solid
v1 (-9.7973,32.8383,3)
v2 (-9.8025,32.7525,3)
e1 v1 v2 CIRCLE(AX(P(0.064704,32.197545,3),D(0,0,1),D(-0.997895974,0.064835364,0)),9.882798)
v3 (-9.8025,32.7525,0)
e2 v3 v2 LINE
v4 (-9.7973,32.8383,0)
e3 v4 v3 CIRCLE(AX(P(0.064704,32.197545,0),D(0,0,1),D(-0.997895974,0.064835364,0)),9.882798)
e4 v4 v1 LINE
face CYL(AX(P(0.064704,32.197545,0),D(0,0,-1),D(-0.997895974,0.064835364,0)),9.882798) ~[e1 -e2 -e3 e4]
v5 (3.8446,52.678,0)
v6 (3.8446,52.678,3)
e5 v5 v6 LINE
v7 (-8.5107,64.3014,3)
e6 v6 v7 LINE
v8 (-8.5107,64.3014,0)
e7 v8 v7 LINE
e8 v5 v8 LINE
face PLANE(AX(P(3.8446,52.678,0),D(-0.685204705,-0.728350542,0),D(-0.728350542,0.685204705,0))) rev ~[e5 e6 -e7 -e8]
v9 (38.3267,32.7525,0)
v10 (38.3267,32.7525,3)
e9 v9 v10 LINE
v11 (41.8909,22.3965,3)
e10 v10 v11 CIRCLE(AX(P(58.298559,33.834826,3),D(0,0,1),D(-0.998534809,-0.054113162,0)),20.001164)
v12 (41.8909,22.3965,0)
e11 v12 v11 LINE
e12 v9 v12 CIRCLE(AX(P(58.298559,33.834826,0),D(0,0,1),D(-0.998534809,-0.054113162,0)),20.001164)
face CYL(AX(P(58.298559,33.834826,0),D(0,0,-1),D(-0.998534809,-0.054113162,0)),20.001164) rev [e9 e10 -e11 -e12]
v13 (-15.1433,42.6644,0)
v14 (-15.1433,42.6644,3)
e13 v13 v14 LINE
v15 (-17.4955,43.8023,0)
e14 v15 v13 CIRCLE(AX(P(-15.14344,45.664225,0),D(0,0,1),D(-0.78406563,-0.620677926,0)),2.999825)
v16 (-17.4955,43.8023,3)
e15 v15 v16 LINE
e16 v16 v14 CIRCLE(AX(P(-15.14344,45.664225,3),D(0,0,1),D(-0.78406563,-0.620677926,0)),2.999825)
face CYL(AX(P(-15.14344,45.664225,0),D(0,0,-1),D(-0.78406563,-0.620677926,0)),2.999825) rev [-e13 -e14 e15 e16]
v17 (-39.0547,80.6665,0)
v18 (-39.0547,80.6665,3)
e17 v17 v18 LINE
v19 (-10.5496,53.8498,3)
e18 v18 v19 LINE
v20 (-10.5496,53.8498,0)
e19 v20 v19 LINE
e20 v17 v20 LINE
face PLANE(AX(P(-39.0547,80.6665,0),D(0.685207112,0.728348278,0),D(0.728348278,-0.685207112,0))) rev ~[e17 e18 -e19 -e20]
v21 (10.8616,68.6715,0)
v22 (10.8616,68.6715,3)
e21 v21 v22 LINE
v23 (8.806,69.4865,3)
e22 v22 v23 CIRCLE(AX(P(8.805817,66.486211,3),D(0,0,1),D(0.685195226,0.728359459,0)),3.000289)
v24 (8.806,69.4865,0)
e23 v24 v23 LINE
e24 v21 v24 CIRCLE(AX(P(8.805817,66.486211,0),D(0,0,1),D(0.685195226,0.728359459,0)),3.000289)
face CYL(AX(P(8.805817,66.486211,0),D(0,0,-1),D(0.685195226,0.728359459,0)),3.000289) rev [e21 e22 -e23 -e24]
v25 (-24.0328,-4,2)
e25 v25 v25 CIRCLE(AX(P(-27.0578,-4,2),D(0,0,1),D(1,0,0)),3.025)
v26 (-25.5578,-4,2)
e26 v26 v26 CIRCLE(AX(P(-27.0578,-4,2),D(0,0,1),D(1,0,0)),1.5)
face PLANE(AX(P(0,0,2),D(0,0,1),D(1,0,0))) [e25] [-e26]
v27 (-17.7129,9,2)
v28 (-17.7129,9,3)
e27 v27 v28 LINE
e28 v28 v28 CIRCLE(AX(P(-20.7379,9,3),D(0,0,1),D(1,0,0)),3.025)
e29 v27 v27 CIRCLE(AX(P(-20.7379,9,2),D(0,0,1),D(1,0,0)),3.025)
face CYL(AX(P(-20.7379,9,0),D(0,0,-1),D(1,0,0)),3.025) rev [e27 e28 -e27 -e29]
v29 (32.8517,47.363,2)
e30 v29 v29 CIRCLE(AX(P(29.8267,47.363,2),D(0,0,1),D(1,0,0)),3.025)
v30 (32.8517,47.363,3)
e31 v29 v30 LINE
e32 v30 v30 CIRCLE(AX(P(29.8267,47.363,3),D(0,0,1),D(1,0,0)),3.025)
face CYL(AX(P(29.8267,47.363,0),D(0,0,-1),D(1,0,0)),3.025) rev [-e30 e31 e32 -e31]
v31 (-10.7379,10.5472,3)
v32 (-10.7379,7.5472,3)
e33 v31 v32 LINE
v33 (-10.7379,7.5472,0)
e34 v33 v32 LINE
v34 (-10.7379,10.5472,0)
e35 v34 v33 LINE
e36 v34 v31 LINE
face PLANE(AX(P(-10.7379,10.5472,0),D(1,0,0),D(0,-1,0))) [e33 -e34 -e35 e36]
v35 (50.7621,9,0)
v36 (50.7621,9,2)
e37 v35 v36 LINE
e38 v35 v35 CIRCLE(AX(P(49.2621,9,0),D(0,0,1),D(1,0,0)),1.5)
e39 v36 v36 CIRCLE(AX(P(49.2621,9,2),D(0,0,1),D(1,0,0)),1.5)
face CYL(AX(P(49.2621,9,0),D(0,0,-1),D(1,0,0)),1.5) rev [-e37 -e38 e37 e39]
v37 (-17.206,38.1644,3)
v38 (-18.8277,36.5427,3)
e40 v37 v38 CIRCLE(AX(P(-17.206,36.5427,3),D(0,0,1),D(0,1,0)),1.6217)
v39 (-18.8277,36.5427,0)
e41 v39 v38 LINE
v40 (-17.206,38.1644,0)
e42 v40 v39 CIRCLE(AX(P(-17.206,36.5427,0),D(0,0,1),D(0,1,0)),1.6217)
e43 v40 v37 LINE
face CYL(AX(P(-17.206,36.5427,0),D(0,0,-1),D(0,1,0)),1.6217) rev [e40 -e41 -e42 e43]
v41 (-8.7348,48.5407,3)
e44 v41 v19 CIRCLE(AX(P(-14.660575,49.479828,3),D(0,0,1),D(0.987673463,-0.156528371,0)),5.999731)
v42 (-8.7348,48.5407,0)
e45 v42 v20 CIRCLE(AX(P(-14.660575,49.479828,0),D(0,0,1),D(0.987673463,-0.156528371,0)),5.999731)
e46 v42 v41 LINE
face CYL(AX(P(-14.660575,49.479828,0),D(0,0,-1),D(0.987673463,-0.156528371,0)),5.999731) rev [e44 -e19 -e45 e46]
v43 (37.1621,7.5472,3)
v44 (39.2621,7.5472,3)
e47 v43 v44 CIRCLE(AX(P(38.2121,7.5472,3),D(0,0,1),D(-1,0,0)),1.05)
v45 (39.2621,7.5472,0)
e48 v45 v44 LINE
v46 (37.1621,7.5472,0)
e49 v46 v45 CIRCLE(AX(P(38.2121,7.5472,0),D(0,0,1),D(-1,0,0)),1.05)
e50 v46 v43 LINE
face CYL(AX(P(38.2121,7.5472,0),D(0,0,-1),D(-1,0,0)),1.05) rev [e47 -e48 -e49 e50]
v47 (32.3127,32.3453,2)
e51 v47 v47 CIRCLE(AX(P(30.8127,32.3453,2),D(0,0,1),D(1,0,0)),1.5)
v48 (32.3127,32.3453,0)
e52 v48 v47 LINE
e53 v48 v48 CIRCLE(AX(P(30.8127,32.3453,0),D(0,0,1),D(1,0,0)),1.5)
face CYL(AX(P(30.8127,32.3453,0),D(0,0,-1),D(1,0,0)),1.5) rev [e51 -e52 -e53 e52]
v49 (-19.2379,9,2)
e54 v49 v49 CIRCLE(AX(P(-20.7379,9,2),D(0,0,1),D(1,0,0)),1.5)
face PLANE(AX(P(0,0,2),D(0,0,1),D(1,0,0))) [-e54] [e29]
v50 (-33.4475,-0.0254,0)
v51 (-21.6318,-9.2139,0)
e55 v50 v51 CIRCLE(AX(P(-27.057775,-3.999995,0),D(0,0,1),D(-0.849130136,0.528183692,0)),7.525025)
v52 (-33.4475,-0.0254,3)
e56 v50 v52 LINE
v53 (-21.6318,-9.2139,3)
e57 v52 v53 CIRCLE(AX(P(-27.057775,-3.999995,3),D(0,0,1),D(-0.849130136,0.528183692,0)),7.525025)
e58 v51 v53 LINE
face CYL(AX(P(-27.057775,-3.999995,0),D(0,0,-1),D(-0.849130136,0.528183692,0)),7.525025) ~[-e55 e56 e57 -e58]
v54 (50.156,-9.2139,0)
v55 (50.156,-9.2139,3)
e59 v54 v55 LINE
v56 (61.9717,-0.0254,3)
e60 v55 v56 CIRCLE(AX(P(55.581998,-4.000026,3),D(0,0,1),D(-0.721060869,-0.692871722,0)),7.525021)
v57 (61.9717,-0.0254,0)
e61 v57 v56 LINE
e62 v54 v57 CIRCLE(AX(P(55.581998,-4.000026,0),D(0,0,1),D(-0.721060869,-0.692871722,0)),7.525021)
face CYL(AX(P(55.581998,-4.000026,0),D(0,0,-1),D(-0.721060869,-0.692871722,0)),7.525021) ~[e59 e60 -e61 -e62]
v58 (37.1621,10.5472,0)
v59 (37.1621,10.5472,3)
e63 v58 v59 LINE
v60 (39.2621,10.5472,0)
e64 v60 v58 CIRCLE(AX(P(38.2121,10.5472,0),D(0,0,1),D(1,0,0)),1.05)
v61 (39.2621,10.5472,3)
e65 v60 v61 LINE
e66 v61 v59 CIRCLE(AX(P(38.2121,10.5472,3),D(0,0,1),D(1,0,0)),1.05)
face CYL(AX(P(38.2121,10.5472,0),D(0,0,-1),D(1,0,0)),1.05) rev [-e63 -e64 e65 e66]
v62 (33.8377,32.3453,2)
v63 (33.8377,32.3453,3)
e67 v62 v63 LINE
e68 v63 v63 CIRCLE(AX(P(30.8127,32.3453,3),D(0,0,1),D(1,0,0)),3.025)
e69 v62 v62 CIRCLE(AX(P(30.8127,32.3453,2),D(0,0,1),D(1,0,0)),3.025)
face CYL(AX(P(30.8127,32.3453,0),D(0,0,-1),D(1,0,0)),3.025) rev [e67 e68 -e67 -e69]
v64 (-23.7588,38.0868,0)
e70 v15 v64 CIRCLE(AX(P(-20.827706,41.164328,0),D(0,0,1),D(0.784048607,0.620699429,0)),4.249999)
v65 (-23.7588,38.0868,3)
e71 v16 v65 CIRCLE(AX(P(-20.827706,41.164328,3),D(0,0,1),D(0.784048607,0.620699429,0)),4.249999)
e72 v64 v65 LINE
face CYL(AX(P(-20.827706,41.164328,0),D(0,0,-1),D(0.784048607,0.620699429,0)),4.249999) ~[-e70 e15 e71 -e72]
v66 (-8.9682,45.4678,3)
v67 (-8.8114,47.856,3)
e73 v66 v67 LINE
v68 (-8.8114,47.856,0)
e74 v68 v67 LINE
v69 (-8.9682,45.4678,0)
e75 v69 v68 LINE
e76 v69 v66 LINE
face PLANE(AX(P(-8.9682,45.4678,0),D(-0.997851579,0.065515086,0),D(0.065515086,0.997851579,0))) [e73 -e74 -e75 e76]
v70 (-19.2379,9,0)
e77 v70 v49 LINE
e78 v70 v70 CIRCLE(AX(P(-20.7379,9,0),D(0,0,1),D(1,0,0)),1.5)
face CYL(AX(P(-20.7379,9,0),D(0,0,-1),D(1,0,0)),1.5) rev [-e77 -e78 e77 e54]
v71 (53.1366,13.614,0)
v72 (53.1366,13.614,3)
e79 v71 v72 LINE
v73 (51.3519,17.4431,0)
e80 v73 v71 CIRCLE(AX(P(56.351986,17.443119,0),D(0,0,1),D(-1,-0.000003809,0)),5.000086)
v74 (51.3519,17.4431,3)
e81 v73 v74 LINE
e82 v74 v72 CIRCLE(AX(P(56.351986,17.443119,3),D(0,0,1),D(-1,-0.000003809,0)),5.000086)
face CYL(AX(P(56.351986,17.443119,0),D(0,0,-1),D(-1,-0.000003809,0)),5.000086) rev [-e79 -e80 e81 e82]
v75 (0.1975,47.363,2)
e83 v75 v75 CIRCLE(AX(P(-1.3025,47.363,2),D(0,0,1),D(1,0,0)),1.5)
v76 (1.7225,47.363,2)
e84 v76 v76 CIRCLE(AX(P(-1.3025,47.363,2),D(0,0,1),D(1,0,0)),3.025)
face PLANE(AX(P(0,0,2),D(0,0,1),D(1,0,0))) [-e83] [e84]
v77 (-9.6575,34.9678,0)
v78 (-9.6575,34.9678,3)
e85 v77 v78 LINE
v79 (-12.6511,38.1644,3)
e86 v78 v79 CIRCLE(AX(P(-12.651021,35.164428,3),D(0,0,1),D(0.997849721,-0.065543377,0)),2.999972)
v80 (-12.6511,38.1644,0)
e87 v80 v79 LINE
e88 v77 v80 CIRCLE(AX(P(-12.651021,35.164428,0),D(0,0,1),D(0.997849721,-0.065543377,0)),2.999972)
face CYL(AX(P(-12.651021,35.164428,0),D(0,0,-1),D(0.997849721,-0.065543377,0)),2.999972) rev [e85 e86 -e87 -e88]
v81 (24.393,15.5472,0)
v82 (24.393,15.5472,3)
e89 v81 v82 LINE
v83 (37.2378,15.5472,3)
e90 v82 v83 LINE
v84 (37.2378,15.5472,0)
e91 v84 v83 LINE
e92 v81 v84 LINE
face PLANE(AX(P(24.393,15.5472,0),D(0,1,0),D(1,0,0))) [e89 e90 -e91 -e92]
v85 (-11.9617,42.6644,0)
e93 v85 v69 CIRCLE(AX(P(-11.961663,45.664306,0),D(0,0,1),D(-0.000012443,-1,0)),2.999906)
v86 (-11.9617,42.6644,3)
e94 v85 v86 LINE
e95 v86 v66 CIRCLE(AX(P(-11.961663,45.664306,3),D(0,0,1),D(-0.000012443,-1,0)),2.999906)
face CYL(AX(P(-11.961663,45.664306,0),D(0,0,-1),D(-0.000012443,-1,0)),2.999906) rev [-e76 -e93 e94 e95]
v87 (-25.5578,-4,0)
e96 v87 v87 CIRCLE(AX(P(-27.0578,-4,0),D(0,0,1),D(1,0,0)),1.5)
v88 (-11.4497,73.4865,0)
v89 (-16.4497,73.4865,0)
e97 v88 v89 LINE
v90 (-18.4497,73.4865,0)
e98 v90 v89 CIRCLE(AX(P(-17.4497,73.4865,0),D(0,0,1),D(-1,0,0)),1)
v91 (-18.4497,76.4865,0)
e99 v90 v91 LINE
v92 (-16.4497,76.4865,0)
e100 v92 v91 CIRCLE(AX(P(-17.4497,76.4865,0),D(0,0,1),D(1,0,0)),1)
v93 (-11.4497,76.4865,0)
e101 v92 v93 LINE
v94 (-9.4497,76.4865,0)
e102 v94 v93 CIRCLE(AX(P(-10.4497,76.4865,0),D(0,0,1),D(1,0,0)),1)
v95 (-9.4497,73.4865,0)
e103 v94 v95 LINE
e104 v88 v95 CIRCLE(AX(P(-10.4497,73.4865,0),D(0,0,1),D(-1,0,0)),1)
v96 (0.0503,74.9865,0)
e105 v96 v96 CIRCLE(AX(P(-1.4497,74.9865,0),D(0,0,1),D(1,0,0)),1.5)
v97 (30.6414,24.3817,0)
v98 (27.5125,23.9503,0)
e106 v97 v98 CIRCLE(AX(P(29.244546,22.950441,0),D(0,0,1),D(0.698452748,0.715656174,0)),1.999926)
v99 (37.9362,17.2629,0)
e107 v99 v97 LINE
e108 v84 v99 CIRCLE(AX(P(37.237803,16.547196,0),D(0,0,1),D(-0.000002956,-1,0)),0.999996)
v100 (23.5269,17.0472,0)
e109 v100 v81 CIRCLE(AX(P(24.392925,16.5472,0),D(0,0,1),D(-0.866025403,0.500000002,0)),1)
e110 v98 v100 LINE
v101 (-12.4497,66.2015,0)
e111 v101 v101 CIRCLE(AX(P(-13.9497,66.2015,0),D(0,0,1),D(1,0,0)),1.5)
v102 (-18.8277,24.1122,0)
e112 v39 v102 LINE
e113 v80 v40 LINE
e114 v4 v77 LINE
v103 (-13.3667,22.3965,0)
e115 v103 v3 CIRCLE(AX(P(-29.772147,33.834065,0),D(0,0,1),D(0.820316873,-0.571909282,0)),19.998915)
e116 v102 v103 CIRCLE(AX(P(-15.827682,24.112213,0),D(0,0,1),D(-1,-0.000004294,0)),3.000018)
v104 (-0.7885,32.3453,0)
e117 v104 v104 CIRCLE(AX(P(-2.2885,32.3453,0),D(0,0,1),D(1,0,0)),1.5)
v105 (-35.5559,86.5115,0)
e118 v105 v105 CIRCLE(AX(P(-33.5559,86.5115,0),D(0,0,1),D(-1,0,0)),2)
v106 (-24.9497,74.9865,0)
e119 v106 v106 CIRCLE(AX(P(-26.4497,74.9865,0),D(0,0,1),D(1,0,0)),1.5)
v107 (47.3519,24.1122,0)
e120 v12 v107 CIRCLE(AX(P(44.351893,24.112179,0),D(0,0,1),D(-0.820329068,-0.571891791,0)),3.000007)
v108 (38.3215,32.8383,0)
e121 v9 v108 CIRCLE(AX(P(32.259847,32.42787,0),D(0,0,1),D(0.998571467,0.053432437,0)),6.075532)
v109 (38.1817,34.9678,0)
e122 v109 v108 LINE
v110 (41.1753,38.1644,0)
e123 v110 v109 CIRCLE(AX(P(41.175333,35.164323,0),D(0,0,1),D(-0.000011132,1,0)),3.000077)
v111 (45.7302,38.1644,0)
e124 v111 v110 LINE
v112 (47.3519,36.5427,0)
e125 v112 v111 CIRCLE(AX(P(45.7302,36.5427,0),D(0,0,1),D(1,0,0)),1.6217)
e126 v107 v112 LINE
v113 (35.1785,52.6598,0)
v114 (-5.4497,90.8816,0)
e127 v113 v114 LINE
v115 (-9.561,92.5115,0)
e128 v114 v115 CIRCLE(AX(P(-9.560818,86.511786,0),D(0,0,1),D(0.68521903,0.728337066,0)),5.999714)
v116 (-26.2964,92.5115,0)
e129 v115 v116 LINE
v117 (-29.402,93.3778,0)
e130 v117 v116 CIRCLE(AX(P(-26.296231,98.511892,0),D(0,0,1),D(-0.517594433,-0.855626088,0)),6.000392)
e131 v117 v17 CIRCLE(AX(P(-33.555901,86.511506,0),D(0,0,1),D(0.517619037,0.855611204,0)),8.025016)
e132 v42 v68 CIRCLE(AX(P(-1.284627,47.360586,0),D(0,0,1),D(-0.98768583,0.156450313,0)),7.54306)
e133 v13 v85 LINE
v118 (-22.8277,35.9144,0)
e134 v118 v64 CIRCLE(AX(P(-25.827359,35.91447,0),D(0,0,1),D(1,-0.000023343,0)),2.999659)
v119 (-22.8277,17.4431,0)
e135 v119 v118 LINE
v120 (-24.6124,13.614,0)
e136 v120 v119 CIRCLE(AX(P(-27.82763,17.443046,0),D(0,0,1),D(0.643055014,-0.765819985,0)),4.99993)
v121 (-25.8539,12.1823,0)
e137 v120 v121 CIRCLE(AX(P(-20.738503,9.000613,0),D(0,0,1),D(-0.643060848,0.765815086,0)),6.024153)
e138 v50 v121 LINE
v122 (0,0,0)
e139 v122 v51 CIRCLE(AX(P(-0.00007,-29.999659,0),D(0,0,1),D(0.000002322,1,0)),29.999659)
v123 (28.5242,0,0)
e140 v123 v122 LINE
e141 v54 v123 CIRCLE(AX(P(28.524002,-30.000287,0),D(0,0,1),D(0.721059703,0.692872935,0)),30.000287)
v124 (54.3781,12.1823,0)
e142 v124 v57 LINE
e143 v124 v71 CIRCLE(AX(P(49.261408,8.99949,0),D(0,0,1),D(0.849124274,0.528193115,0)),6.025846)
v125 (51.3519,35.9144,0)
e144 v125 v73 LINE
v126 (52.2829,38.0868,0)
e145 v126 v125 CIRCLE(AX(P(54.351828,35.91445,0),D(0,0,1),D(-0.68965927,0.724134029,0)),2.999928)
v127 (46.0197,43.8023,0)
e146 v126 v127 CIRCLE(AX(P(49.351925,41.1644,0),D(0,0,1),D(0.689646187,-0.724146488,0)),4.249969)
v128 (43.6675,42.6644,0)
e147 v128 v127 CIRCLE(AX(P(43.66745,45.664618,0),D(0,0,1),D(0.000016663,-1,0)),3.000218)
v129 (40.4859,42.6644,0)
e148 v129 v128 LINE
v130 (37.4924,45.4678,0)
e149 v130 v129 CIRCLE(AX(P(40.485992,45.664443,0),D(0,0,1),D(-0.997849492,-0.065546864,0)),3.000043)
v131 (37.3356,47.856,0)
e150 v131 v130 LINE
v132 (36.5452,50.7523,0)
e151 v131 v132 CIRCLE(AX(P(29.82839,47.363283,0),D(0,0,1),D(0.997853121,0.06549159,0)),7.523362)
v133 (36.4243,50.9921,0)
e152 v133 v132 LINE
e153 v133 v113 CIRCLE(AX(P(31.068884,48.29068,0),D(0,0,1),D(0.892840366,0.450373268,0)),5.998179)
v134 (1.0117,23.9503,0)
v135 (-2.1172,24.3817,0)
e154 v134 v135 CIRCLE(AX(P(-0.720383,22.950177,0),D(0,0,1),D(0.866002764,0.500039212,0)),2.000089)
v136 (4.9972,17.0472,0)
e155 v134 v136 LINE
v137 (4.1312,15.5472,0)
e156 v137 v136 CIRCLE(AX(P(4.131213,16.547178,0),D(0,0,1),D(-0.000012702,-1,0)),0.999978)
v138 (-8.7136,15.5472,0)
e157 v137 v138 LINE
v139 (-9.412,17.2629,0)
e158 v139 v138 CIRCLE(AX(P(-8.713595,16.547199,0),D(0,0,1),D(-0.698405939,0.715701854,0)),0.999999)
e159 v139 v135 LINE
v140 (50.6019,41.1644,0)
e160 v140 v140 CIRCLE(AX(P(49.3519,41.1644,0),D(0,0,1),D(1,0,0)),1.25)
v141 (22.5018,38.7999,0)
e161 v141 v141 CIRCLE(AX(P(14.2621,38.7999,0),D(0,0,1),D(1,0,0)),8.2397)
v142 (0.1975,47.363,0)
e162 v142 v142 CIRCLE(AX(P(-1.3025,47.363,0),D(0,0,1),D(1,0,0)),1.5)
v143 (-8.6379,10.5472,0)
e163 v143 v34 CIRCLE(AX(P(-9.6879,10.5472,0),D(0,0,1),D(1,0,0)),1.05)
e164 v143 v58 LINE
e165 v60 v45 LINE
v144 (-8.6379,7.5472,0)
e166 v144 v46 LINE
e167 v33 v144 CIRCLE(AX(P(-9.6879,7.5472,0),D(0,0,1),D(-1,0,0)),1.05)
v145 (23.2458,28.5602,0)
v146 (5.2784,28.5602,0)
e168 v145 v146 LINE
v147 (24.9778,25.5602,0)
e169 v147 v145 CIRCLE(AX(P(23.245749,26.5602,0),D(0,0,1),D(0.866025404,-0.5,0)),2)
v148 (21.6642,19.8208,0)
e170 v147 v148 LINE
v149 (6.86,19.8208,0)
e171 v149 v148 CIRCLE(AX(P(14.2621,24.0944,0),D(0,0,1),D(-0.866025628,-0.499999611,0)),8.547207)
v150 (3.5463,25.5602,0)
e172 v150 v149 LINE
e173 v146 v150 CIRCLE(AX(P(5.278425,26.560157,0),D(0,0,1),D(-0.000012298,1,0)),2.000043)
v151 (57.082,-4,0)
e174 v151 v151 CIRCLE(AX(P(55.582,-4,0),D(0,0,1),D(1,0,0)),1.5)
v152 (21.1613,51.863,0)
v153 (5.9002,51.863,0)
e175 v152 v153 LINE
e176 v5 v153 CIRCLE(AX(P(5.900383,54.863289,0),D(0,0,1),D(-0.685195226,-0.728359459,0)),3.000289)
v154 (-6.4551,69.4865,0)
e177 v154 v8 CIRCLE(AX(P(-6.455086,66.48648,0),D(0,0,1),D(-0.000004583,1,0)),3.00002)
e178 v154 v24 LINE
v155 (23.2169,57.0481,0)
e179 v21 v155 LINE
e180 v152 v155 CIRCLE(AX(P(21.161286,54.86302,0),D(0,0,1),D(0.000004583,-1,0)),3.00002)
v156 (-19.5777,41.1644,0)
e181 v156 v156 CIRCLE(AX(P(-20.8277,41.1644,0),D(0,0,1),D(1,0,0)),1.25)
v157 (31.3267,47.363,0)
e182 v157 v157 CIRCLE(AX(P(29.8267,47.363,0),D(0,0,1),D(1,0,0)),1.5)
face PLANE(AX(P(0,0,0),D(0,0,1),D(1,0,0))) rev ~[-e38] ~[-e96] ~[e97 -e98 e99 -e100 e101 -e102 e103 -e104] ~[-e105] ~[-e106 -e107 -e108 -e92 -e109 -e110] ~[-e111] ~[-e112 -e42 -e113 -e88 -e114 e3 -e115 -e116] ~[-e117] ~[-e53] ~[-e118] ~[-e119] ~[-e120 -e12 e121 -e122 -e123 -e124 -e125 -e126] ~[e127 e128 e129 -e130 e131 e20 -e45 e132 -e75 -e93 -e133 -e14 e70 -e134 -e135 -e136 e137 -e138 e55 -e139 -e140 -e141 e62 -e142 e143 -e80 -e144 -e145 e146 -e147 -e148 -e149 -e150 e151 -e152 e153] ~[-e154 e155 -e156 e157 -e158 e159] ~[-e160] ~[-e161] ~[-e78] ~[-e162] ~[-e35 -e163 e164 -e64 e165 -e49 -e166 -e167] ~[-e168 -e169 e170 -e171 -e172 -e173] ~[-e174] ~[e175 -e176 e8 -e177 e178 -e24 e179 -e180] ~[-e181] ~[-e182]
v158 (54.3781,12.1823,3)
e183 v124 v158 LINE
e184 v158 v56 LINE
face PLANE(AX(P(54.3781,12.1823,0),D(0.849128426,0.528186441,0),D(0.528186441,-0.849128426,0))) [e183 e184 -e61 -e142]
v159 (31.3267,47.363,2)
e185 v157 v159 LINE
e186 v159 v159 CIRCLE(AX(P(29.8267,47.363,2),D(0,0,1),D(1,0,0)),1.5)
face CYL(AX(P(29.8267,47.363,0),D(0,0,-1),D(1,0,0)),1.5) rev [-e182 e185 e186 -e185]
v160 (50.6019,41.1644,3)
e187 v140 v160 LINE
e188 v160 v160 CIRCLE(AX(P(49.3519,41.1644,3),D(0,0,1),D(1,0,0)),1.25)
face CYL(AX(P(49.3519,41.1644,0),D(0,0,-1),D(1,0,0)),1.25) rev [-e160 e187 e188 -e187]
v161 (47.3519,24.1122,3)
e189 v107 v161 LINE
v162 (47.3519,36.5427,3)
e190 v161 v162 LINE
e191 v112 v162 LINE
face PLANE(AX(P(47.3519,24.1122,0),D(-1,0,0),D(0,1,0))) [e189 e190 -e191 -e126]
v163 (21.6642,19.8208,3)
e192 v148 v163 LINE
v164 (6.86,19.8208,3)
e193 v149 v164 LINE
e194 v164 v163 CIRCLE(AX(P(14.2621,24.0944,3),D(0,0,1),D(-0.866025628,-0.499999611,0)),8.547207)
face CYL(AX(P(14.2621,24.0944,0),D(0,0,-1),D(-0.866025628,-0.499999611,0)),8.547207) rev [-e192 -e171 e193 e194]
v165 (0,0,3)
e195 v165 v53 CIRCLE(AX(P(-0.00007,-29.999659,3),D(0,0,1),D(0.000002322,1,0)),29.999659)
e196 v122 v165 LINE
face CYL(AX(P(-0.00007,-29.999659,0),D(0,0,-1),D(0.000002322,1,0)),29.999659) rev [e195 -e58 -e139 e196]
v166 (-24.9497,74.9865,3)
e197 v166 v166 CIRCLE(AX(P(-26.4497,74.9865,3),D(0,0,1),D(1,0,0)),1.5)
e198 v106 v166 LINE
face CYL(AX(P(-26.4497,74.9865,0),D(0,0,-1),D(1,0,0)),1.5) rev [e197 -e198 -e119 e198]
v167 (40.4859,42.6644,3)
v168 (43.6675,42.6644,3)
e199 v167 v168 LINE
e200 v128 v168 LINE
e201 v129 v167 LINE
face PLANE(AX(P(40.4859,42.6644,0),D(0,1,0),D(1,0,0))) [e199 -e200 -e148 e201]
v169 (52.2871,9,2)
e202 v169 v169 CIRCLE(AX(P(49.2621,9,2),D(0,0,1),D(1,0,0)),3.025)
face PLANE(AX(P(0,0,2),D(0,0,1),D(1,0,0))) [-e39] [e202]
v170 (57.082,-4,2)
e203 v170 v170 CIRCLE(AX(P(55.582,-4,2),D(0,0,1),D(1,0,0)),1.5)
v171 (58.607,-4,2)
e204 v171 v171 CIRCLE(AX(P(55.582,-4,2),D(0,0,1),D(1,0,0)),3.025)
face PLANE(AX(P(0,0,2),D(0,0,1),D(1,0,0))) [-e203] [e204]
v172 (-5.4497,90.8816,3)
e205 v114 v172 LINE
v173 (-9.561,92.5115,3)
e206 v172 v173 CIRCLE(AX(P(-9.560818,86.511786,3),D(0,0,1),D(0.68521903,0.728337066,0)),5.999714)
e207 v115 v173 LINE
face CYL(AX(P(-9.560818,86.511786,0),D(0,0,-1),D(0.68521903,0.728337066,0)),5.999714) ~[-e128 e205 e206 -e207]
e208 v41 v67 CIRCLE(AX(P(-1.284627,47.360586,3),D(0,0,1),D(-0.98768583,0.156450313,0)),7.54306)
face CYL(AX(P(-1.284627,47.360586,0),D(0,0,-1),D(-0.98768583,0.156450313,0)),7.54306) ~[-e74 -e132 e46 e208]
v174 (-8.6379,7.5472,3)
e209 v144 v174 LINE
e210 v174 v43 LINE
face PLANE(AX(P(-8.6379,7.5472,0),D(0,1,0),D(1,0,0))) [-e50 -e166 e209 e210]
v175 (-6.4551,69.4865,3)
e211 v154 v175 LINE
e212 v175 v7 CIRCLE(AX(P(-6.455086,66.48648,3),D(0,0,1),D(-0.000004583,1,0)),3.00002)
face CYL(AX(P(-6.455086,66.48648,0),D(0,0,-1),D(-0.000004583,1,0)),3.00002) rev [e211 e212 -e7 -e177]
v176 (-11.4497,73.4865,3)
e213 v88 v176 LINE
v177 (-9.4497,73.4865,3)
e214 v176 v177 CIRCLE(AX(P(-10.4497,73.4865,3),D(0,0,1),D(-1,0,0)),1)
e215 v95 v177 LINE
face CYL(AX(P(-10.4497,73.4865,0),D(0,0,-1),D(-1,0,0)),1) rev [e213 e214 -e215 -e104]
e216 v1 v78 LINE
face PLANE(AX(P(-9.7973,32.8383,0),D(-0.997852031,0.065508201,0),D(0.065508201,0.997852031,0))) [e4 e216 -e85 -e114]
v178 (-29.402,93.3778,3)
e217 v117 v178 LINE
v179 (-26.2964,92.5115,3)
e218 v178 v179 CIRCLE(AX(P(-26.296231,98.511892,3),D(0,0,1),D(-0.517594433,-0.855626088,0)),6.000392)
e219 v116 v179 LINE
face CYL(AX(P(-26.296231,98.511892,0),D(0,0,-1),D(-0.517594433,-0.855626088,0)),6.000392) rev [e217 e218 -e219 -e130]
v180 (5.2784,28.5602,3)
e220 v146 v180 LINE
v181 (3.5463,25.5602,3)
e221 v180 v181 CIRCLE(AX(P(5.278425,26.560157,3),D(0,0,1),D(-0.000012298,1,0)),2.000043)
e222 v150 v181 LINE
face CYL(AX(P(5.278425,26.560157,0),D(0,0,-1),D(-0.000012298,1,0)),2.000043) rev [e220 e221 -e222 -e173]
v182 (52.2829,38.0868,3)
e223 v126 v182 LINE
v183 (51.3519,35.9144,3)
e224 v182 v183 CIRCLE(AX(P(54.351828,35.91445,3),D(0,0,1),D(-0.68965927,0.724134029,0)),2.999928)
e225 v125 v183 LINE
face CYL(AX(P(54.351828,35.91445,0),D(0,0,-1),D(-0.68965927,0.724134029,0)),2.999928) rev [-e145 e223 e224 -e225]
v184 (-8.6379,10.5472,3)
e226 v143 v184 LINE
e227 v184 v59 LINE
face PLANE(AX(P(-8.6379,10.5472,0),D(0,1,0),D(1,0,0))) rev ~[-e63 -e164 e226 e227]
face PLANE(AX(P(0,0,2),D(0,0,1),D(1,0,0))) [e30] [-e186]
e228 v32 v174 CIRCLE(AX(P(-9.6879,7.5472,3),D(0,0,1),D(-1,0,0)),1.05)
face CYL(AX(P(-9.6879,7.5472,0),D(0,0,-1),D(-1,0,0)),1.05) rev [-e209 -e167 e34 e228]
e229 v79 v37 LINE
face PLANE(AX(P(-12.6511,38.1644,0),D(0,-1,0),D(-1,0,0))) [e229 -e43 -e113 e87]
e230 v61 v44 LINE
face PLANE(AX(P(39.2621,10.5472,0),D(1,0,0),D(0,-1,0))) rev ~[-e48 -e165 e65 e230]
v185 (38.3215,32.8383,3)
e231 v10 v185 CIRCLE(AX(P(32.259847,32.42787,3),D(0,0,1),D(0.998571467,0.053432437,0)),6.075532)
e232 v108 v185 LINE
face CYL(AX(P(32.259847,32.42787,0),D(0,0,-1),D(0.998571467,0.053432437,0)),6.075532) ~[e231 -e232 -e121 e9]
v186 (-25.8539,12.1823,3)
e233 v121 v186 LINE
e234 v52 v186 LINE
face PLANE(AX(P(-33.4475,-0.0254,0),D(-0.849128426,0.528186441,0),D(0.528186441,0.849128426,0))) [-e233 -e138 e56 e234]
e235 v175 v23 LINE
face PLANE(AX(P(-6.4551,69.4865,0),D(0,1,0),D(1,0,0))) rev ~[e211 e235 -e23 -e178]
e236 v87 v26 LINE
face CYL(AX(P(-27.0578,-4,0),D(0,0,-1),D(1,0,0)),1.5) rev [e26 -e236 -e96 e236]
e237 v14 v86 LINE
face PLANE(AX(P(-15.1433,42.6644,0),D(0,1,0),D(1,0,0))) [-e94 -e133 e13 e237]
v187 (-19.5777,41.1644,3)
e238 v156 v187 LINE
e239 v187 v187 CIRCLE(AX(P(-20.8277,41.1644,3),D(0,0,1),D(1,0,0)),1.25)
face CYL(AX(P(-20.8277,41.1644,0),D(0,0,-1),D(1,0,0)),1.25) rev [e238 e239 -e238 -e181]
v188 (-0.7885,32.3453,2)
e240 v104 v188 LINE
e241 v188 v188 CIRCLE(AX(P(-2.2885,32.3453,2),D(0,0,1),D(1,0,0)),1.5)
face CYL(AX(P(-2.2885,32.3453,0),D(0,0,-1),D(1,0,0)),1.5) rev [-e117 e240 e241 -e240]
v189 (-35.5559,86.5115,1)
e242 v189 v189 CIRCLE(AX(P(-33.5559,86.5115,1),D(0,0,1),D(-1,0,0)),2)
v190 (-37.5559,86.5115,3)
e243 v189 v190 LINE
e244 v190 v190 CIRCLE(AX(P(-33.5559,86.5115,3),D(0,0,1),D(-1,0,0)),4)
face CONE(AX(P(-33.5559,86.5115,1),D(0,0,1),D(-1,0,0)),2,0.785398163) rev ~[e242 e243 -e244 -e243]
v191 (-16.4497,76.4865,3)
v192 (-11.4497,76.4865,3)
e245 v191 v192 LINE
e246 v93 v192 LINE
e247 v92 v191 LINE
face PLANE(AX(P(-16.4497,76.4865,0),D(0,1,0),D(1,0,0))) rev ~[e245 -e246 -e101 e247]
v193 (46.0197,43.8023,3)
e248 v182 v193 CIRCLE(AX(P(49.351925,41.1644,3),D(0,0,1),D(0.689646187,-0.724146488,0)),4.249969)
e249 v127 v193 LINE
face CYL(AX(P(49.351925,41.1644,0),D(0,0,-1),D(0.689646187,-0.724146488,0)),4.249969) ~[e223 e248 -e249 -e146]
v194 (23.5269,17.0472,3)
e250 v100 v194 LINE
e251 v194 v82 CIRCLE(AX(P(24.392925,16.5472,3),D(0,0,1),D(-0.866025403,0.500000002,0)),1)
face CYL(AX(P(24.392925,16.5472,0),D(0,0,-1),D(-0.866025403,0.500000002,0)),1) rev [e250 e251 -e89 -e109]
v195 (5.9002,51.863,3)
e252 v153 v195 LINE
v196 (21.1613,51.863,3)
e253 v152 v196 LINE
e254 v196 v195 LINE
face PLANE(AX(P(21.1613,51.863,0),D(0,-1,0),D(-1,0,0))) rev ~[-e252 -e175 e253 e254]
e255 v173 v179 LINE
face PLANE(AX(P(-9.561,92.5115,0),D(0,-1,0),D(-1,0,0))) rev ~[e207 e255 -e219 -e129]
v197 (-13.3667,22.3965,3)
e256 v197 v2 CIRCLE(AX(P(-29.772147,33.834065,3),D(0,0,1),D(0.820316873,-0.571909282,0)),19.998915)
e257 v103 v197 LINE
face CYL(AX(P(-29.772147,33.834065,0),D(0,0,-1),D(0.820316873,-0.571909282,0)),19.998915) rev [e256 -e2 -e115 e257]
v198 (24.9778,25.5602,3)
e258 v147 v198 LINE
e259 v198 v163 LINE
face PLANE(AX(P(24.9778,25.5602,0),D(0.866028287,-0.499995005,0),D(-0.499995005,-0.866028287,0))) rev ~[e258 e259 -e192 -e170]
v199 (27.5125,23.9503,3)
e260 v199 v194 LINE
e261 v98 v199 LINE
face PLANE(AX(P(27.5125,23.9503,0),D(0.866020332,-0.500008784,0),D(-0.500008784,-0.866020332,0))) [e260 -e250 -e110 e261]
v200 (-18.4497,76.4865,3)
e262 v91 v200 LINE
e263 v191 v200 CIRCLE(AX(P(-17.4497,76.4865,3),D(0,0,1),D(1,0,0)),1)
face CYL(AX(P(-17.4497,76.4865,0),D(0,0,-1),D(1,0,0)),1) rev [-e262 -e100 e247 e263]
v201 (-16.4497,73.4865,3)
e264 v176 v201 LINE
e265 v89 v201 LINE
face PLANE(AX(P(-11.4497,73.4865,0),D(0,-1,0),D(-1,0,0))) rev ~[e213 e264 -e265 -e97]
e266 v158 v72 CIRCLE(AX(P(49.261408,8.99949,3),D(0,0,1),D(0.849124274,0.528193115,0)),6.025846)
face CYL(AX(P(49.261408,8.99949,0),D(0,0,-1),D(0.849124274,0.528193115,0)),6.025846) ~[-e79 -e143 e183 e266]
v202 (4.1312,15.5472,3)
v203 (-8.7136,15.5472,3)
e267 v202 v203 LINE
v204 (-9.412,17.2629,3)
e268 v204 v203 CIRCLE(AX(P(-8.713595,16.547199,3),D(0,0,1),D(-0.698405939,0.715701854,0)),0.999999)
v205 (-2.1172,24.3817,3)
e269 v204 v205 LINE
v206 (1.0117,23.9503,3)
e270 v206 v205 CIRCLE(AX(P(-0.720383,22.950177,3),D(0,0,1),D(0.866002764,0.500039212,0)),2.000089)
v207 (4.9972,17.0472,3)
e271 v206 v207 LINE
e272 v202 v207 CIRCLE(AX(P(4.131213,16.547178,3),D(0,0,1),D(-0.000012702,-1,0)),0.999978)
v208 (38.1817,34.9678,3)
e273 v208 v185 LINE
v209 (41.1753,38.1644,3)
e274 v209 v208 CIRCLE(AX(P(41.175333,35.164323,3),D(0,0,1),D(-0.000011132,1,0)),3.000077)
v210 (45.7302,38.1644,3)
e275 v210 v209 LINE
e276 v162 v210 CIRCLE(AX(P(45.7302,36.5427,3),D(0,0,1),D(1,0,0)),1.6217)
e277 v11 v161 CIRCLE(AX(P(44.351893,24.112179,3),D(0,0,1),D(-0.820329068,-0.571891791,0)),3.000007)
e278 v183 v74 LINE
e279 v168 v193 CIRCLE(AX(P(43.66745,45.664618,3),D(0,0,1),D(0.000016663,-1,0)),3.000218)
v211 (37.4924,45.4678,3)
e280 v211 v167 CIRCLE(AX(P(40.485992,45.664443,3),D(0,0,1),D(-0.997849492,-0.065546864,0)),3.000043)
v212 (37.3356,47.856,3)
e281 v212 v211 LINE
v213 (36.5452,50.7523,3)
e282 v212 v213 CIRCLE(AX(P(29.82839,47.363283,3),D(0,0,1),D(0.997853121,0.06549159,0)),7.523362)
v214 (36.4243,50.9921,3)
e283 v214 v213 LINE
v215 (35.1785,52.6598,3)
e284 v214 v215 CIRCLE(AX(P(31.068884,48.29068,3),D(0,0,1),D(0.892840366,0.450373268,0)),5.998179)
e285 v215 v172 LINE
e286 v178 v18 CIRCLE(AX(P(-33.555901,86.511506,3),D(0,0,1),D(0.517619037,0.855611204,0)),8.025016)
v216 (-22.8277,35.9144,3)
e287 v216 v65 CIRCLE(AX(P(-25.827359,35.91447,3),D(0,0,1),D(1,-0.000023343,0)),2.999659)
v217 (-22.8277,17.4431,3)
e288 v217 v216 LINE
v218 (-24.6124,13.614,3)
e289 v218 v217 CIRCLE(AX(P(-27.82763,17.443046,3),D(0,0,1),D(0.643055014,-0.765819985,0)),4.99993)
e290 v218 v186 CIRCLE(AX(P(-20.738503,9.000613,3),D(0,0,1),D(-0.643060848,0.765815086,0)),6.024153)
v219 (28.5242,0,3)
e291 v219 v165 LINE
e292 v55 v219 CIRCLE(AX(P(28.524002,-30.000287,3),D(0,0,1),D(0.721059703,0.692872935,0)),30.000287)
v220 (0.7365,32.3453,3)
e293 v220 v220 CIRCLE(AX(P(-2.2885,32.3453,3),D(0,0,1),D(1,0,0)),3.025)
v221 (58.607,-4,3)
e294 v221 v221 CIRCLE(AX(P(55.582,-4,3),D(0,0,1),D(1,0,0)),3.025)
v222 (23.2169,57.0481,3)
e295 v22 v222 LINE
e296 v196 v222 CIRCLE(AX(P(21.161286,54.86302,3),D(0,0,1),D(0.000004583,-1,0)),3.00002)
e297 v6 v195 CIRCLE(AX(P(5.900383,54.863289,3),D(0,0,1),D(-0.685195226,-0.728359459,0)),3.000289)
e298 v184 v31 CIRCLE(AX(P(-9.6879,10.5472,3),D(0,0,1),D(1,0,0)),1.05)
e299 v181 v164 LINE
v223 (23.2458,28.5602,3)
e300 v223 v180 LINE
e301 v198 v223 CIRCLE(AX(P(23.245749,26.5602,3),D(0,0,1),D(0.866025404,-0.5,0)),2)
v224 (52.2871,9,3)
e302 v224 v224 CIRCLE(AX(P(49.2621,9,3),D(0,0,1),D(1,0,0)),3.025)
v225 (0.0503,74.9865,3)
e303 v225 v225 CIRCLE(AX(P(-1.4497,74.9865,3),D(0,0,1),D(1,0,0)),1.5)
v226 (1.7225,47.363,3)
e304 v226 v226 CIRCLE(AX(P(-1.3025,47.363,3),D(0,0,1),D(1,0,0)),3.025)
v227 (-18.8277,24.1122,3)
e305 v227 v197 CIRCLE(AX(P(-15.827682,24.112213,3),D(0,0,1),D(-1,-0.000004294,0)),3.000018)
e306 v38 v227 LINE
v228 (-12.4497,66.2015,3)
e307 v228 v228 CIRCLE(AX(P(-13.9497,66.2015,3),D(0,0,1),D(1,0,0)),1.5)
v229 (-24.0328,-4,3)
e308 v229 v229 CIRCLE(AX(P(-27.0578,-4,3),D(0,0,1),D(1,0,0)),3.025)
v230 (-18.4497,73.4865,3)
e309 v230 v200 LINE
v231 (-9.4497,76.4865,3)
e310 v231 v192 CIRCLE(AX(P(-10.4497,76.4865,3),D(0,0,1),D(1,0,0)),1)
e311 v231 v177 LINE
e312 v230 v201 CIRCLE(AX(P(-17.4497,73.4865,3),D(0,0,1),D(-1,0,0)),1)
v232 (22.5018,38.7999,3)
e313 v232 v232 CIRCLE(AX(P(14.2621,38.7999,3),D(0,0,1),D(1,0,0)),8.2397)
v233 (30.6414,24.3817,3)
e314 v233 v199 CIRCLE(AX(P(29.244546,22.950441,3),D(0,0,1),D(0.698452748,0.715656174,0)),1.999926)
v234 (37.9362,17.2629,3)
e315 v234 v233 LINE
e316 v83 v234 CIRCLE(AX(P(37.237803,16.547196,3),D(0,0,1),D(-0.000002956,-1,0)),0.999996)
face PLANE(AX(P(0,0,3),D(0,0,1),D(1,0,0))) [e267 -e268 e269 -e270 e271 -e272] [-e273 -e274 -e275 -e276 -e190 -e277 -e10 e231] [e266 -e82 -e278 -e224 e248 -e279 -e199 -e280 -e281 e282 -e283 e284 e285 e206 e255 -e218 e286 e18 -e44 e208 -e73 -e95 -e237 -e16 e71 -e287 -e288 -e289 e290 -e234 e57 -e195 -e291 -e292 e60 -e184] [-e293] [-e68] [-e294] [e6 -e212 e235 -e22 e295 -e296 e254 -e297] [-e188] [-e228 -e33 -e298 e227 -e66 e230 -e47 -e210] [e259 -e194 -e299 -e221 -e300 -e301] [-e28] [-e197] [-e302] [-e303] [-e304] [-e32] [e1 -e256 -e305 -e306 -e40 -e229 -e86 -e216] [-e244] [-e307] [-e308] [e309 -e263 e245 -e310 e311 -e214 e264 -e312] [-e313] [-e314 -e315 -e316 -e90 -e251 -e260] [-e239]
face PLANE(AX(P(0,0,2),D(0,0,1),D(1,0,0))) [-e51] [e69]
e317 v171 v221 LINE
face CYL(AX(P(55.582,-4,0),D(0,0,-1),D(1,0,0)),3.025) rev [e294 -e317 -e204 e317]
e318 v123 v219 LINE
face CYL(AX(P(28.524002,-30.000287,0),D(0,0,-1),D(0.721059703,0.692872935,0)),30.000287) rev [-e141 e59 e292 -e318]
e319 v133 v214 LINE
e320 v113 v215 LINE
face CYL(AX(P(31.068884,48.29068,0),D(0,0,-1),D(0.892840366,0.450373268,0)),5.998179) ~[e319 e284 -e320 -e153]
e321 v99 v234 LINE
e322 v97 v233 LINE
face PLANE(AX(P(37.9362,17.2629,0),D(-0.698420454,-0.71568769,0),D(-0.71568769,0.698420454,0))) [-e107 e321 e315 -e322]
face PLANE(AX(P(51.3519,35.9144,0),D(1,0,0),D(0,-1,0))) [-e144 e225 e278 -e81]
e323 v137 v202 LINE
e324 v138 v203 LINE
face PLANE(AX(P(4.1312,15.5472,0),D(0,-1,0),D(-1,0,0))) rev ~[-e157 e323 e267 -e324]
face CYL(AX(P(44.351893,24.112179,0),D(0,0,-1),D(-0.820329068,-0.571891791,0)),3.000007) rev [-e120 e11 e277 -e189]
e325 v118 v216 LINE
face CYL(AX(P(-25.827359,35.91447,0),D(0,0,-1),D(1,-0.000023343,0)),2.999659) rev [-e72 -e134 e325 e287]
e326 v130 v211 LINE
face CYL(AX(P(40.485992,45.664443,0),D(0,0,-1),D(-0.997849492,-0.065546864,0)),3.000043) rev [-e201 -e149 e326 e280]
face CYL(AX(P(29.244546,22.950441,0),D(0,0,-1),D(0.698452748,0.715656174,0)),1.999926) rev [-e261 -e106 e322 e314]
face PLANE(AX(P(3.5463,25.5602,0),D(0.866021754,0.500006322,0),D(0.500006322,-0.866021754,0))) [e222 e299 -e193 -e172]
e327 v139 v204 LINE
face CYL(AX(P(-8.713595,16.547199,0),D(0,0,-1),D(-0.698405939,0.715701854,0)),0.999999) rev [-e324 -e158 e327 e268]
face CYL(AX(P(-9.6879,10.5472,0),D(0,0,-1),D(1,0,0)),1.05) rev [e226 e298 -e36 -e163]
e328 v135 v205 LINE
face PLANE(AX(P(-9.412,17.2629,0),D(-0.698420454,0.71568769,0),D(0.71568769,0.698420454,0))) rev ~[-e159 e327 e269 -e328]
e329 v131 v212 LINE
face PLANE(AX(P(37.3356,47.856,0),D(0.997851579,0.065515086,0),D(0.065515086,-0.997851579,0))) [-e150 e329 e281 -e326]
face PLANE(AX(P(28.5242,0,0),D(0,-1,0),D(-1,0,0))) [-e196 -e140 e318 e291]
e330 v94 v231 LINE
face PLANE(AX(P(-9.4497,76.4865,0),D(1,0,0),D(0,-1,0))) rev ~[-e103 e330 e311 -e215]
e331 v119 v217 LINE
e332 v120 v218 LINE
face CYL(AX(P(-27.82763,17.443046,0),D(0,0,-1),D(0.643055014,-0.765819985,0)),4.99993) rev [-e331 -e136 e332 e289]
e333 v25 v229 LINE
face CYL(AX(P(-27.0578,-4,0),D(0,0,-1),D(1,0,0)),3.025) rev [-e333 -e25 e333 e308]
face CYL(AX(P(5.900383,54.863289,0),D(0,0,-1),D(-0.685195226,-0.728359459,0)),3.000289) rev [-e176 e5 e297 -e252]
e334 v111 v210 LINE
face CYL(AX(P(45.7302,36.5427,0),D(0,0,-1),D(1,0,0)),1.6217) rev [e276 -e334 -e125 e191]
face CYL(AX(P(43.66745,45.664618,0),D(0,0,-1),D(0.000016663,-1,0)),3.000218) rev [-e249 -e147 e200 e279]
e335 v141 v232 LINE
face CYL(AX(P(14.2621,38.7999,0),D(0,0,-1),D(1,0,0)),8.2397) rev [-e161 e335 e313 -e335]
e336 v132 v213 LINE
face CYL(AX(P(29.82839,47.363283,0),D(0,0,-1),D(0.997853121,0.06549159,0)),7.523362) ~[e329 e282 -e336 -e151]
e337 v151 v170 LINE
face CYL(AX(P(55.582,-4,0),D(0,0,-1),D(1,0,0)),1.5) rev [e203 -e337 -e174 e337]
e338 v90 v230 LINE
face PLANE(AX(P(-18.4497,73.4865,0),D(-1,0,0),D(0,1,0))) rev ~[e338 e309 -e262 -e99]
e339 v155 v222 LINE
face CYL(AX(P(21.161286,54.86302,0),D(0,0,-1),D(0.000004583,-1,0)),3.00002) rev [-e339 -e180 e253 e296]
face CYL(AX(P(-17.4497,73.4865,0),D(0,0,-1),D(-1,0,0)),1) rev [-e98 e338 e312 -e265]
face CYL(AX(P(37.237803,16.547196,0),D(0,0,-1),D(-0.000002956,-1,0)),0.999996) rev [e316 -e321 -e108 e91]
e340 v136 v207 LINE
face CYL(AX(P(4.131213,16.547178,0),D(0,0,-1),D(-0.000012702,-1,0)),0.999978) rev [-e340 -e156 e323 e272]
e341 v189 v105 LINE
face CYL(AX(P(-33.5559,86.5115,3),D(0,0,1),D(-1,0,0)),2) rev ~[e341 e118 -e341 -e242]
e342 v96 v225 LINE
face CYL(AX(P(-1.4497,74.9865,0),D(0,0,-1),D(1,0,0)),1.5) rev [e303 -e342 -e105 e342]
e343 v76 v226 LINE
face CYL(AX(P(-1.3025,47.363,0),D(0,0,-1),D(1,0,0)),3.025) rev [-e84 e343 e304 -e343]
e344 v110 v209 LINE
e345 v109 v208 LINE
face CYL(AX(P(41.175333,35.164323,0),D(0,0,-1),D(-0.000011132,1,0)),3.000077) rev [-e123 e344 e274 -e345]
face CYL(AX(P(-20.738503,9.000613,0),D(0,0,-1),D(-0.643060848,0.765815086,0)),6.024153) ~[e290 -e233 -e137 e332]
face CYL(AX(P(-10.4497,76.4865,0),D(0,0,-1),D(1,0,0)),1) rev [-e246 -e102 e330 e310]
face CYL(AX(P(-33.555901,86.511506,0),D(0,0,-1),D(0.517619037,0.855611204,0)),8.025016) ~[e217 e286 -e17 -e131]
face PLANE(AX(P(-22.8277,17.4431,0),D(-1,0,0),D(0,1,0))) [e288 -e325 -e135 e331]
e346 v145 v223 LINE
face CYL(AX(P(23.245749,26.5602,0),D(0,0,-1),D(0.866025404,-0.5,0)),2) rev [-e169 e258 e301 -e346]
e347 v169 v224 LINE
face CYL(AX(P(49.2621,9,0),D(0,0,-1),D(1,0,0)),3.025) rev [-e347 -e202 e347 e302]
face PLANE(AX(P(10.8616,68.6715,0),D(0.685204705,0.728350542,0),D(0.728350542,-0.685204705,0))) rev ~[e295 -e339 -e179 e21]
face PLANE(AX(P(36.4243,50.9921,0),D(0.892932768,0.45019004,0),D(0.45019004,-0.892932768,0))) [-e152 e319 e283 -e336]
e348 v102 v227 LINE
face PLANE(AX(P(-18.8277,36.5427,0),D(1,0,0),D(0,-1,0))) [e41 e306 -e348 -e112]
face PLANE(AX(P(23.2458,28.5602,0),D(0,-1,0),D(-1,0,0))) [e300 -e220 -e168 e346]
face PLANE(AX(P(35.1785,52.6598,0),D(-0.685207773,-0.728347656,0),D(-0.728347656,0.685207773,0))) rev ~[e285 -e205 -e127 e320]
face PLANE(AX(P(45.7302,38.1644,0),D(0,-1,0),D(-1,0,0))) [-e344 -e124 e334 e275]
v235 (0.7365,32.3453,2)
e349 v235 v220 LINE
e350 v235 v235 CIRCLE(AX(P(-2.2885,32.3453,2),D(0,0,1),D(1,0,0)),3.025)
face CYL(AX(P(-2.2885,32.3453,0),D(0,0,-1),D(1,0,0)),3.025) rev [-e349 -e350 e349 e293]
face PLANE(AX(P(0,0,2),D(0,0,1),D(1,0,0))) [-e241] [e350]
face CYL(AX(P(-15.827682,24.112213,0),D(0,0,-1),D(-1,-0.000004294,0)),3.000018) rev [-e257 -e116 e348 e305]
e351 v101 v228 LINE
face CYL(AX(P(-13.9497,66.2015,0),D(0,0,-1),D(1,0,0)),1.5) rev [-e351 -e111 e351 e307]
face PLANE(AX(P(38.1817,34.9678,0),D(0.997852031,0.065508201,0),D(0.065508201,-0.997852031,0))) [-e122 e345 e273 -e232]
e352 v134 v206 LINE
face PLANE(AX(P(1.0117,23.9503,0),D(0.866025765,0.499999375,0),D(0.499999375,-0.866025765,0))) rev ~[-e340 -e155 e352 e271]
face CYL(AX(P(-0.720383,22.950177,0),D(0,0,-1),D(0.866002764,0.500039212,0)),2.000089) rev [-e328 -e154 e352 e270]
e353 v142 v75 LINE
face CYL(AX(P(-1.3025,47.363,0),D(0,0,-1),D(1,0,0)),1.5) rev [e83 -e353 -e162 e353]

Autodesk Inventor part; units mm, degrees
ref_plane "YZ Plane" through (0, 0, 0) normal (1, 0, 0) x (0, 1, 0)
ref_plane "XZ Plane" through (0, 0, 0) normal (0, 1, 0) x (-1, 0, 0)
ref_plane "XY Plane" through (0, 0, 0) normal (0, 0, 1) x (1, 0, 0)
sketch "スケッチ1" plane through (0, 0, 0) normal (0, 0, 1) x (1, 0, 0)
  arc A0 (10.8616, 68.6715) -> (8.806, 69.4865) centre (8.806, 66.4865) ccw
  line L0 (10.8616, 68.6715) -> (23.2169, 57.0481)
  arc A1 (21.1613, 51.863) -> (23.2169, 57.0481) centre (21.1613, 54.863) ccw
  line L1 (21.1613, 51.863) -> (5.9002, 51.863)
  arc A2 (3.8446, 52.678) -> (5.9002, 51.863) centre (5.9002, 54.863) ccw
  line L2 (3.8446, 52.678) -> (-8.5107, 64.3014)
  arc A3 (-6.4551, 69.4865) -> (-8.5107, 64.3014) centre (-6.4551, 66.4865) ccw
  line L3 (-6.4551, 69.4865) -> (8.806, 69.4865)
  circle A4 centre (-1.4497, 74.9865) radius 1.5
  line L4 (35.1785, 52.6598) -> (-5.4497, 90.8816)
  arc A5 (-5.4497, 90.8816) -> (-9.561, 92.5115) centre (-9.561, 86.5115) ccw
  line L5 (-9.561, 92.5115) -> (-26.2964, 92.5115)
  arc A6 (-29.402, 93.3778) -> (-26.2964, 92.5115) centre (-26.2964, 98.5115) ccw
  arc A7 (-29.402, 93.3778) -> (-39.0547, 80.6665) centre (-33.5559, 86.5115) ccw
  line L6 (-39.0547, 80.6665) -> (-10.5496, 53.8498)
  arc A8 (-8.7348, 48.5407) -> (-10.5496, 53.8498) centre (-14.6609, 49.4798) ccw
  arc A9 (-8.7348, 48.5407) -> (-8.8114, 47.856) centre (-1.3025, 47.363) ccw
  line L7 (-8.9682, 45.4678) -> (-8.8114, 47.856)
  arc A10 (-11.9617, 42.6644) -> (-8.9682, 45.4678) centre (-11.9617, 45.6644) ccw
  line L8 (-15.1433, 42.6644) -> (-11.9617, 42.6644)
  arc A11 (-17.4955, 43.8023) -> (-15.1433, 42.6644) centre (-15.1433, 45.6644) ccw
  arc A12 (-17.4955, 43.8023) -> (-23.7588, 38.0868) centre (-20.8277, 41.1644) ccw
  arc A13 (-22.8277, 35.9144) -> (-23.7588, 38.0868) centre (-25.8277, 35.9144) ccw
  line L9 (-22.8277, 17.4431) -> (-22.8277, 35.9144)
  arc A14 (-24.6124, 13.614) -> (-22.8277, 17.4431) centre (-27.8277, 17.4431) ccw
  arc A15 (-24.6124, 13.614) -> (-25.8539, 12.1823) centre (-20.7379, 9) ccw
  line L10 (-33.4475, -0.0254) -> (-25.8539, 12.1823)
  arc A16 (-33.4475, -0.0254) -> (-21.6318, -9.2139) centre (-27.0578, -4) ccw
  arc A17 (0, 0) -> (-21.6318, -9.2139) centre (0, -30) ccw
  line L11 (28.5242, 0) -> (0, 0)
  arc A18 (50.156, -9.2139) -> (28.5242, 0) centre (28.5242, -30) ccw
  arc A19 (50.156, -9.2139) -> (61.9717, -0.0254) centre (55.582, -4) ccw
  line L12 (54.3781, 12.1823) -> (61.9717, -0.0254)
  arc A20 (54.3781, 12.1823) -> (53.1366, 13.614) centre (49.2621, 9) ccw
  arc A21 (51.3519, 17.4431) -> (53.1366, 13.614) centre (56.3519, 17.4431) ccw
  line L13 (51.3519, 35.9144) -> (51.3519, 17.4431)
  arc A22 (52.2829, 38.0868) -> (51.3519, 35.9144) centre (54.3519, 35.9144) ccw
  arc A23 (52.2829, 38.0868) -> (46.0197, 43.8023) centre (49.3519, 41.1644) ccw
  arc A24 (43.6675, 42.6644) -> (46.0197, 43.8023) centre (43.6675, 45.6644) ccw
  line L14 (40.4859, 42.6644) -> (43.6675, 42.6644)
  arc A25 (37.4924, 45.4678) -> (40.4859, 42.6644) centre (40.4859, 45.6644) ccw
  line L15 (37.3356, 47.856) -> (37.4924, 45.4678)
  arc A26 (37.3356, 47.856) -> (36.5452, 50.7523) centre (29.8267, 47.363) ccw
  line L16 (36.4243, 50.9921) -> (36.5452, 50.7523)
  arc A27 (36.4243, 50.9921) -> (35.1785, 52.6598) centre (31.0673, 48.2897) ccw
  arc A28 (-9.4497, 76.4865) -> (-11.4497, 76.4865) centre (-10.4497, 76.4865) ccw
  line L17 (-9.4497, 76.4865) -> (-9.4497, 73.4865)
  arc A29 (-11.4497, 73.4865) -> (-9.4497, 73.4865) centre (-10.4497, 73.4865) ccw
  line L18 (-11.4497, 73.4865) -> (-16.4497, 73.4865)
  arc A30 (-18.4497, 73.4865) -> (-16.4497, 73.4865) centre (-17.4497, 73.4865) ccw
  line L19 (-18.4497, 73.4865) -> (-18.4497, 76.4865)
  arc A31 (-16.4497, 76.4865) -> (-18.4497, 76.4865) centre (-17.4497, 76.4865) ccw
  line L20 (-16.4497, 76.4865) -> (-11.4497, 76.4865)
  circle A32 centre (-13.9497, 66.2015) radius 1.5
  circle A33 centre (-26.4497, 74.9865) radius 1.5
  line L21 (38.1817, 34.9678) -> (38.3215, 32.8383)
  arc A34 (41.1753, 38.1644) -> (38.1817, 34.9678) centre (41.1753, 35.1644) ccw
  line L22 (45.7302, 38.1644) -> (41.1753, 38.1644)
  arc A35 (47.3519, 36.5427) -> (45.7302, 38.1644) centre (45.7302, 36.5427) ccw
  line L23 (47.3519, 24.1122) -> (47.3519, 36.5427)
  arc A36 (41.8909, 22.3965) -> (47.3519, 24.1122) centre (44.3519, 24.1122) ccw
  arc A37 (38.3267, 32.7525) -> (41.8909, 22.3965) centre (58.2974, 33.8346) ccw
  arc A38 (38.3267, 32.7525) -> (38.3215, 32.8383) centre (30.8127, 32.3453) ccw
  line L24 (23.2458, 28.5602) -> (5.2784, 28.5602)
  arc A39 (24.9778, 25.5602) -> (23.2458, 28.5602) centre (23.2458, 26.5602) ccw
  circle A40 centre (29.8267, 47.363) radius 3.025
  arc A41 (1.0117, 23.9503) -> (-2.1172, 24.3817) centre (-0.7203, 22.9503) ccw
  circle A42 centre (-2.2885, 32.3453) radius 3.025
  circle A43 centre (-20.7379, 9) radius 3.025
  circle A44 centre (-20.8277, 41.1644) radius 1.25
  circle A45 centre (-27.0578, -4) radius 3.025
  circle A46 centre (55.582, -4) radius 3.025
  circle A47 centre (49.2621, 9) radius 3.025
  circle A48 centre (49.3519, 41.1644) radius 1.25
  circle A49 centre (30.8127, 32.3453) radius 3.025
  circle A50 centre (14.2621, 38.7999) radius 8.2397
  circle A51 centre (-1.3025, 47.363) radius 3.025
  arc A52 (-9.7973, 32.8383) -> (-9.8025, 32.7525) centre (-2.2885, 32.3453) ccw
  arc A53 (-13.3667, 22.3965) -> (-9.8025, 32.7525) centre (-29.7732, 33.8346) ccw
  arc A54 (-18.8277, 24.1122) -> (-13.3667, 22.3965) centre (-15.8277, 24.1122) ccw
  line L25 (-18.8277, 36.5427) -> (-18.8277, 24.1122)
  arc A55 (-17.206, 38.1644) -> (-18.8277, 36.5427) centre (-17.206, 36.5427) ccw
  line L26 (-12.6511, 38.1644) -> (-17.206, 38.1644)
  arc A56 (-9.6575, 34.9678) -> (-12.6511, 38.1644) centre (-12.6511, 35.1644) ccw
  line L27 (-9.7973, 32.8383) -> (-9.6575, 34.9678)
  circle A57 centre (-2.2885, 32.3453) radius 1.5
  circle A58 centre (-1.3025, 47.363) radius 1.5
  circle A59 centre (-20.7379, 9) radius 1.5
  circle A60 centre (-27.0578, -4) radius 1.5
  circle A61 centre (55.582, -4) radius 1.5
  circle A62 centre (49.2621, 9) radius 3.025
  circle A63 centre (30.8127, 32.3453) radius 1.5
  circle A64 centre (49.2621, 9) radius 1.5
  circle A65 centre (29.8267, 47.363) radius 1.5
  circle A66 centre (-33.5559, 86.5115) radius 1.75
  circle A67 centre (-33.5559, 86.5115) radius 4
  line L28 (-65.8718, 10.3715) -> (-42.2139, 10.5472)
  line L29 (-10.7379, 10.5472) -> (39.2621, 10.5472)
  line L30 (-10.7379, 7.5472) -> (39.2621, 7.5472)
  line L31 (14.2621, 38.7999) -> (14.2621, 10.5472) construction
  line L32 (-9.6879, 11.5972) -> (-9.6879, 6.4972) construction
  line L33 (-10.7379, 10.5472) -> (-10.7379, 7.5472)
  line L34 (-8.6379, 7.5472) -> (-8.6379, 10.5472) construction
  arc A68 (-8.6379, 10.5472) -> (-10.7379, 10.5472) centre (-9.6879, 10.5472) ccw
  arc A69 (-10.7379, 7.5472) -> (-8.6379, 7.5472) centre (-9.6879, 7.5472) ccw
  line L35 (39.2621, 10.5472) -> (39.2621, 7.5472)
  arc A70 (39.2621, 10.5472) -> (37.1621, 10.5472) centre (38.2121, 10.5472) ccw
  arc A71 (37.1621, 7.5472) -> (39.2621, 7.5472) centre (38.2121, 7.5472) ccw
  line L36 (3.5463, 25.5602) -> (6.86, 19.8208)
  arc A72 (6.86, 19.8208) -> (21.6642, 19.8208) centre (14.2621, 24.0944) ccw
  line L37 (24.9778, 25.5602) -> (21.6642, 19.8208)
  arc A73 (5.2784, 28.5602) -> (3.5463, 25.5602) centre (5.2784, 26.5602) ccw
  line L38 (8.8255, 15.5472) -> (21.1613, 15.5472) construction
  line L39 (1.0117, 23.9503) -> (4.9972, 17.0472)
  arc A74 (4.1312, 15.5472) -> (4.9972, 17.0472) centre (4.1312, 16.5472) ccw
  line L40 (4.1312, 15.5472) -> (-8.7136, 15.5472)
  arc A75 (-9.412, 17.2629) -> (-8.7136, 15.5472) centre (-8.7136, 16.5472) ccw
  line L41 (-9.412, 17.2629) -> (-2.1172, 24.3817)
  arc A76 (30.6414, 24.3817) -> (27.5125, 23.9503) centre (29.2445, 22.9503) ccw
  line L42 (27.5125, 23.9503) -> (23.5269, 17.0472)
  arc A77 (23.5269, 17.0472) -> (24.393, 15.5472) centre (24.393, 16.5472) ccw
  line L43 (24.393, 15.5472) -> (37.2378, 15.5472)
  arc A78 (37.2378, 15.5472) -> (37.9362, 17.2629) centre (37.2378, 16.5472) ccw
  line L44 (37.9362, 17.2629) -> (30.6414, 24.3817)
  point P0 (-9.6879, 9.0472)
  point P1 (-8.6379, 10.5472)
  dimension "d6" = 3.5
  dimension "d7" = 8
  dimension "d11" = 3
  dimension "d12" = 50
  dimension "d13" = 2.1
  dimension "d14" = 5
  dimension "d15" = 1
  dimension "d16" = 1
extrude "押し出し1" add sketch "スケッチ1" along normal blind 3 contours A27 L16 A26 L15 A25 L14 A24 A23 A22 L13 A21 A20 L12 A19 A18 L11 A17 A16 L10 A15 A14 L9 A13 A12 A11 L8 A10 L7 A9 A8 L6 A7 A6 L5 A5 L4
extrude "押し出し2" add sketch "スケッチ1" along normal blind 2 contours A40 | A42 | A43 | A45 | A46 | A47 | A49 | A51
sketch "スケッチ2" plane through (0, 0, 3) normal (0, 0, 1) x (-1, 0, 0)
  circle A0 centre (33.5559, -86.5115) radius 2 projected
  circle A1 centre (33.5559, -86.5115) radius 5.025 projected
  point P0 (0, 0)
extrude "押し出し3" add sketch "スケッチ2" against normal blind 3
chamfer "面取り1" distance 2 angle 45 1 edges at (-31.5559, 86.5115, 3)
properties part number "内中間ユニット"
